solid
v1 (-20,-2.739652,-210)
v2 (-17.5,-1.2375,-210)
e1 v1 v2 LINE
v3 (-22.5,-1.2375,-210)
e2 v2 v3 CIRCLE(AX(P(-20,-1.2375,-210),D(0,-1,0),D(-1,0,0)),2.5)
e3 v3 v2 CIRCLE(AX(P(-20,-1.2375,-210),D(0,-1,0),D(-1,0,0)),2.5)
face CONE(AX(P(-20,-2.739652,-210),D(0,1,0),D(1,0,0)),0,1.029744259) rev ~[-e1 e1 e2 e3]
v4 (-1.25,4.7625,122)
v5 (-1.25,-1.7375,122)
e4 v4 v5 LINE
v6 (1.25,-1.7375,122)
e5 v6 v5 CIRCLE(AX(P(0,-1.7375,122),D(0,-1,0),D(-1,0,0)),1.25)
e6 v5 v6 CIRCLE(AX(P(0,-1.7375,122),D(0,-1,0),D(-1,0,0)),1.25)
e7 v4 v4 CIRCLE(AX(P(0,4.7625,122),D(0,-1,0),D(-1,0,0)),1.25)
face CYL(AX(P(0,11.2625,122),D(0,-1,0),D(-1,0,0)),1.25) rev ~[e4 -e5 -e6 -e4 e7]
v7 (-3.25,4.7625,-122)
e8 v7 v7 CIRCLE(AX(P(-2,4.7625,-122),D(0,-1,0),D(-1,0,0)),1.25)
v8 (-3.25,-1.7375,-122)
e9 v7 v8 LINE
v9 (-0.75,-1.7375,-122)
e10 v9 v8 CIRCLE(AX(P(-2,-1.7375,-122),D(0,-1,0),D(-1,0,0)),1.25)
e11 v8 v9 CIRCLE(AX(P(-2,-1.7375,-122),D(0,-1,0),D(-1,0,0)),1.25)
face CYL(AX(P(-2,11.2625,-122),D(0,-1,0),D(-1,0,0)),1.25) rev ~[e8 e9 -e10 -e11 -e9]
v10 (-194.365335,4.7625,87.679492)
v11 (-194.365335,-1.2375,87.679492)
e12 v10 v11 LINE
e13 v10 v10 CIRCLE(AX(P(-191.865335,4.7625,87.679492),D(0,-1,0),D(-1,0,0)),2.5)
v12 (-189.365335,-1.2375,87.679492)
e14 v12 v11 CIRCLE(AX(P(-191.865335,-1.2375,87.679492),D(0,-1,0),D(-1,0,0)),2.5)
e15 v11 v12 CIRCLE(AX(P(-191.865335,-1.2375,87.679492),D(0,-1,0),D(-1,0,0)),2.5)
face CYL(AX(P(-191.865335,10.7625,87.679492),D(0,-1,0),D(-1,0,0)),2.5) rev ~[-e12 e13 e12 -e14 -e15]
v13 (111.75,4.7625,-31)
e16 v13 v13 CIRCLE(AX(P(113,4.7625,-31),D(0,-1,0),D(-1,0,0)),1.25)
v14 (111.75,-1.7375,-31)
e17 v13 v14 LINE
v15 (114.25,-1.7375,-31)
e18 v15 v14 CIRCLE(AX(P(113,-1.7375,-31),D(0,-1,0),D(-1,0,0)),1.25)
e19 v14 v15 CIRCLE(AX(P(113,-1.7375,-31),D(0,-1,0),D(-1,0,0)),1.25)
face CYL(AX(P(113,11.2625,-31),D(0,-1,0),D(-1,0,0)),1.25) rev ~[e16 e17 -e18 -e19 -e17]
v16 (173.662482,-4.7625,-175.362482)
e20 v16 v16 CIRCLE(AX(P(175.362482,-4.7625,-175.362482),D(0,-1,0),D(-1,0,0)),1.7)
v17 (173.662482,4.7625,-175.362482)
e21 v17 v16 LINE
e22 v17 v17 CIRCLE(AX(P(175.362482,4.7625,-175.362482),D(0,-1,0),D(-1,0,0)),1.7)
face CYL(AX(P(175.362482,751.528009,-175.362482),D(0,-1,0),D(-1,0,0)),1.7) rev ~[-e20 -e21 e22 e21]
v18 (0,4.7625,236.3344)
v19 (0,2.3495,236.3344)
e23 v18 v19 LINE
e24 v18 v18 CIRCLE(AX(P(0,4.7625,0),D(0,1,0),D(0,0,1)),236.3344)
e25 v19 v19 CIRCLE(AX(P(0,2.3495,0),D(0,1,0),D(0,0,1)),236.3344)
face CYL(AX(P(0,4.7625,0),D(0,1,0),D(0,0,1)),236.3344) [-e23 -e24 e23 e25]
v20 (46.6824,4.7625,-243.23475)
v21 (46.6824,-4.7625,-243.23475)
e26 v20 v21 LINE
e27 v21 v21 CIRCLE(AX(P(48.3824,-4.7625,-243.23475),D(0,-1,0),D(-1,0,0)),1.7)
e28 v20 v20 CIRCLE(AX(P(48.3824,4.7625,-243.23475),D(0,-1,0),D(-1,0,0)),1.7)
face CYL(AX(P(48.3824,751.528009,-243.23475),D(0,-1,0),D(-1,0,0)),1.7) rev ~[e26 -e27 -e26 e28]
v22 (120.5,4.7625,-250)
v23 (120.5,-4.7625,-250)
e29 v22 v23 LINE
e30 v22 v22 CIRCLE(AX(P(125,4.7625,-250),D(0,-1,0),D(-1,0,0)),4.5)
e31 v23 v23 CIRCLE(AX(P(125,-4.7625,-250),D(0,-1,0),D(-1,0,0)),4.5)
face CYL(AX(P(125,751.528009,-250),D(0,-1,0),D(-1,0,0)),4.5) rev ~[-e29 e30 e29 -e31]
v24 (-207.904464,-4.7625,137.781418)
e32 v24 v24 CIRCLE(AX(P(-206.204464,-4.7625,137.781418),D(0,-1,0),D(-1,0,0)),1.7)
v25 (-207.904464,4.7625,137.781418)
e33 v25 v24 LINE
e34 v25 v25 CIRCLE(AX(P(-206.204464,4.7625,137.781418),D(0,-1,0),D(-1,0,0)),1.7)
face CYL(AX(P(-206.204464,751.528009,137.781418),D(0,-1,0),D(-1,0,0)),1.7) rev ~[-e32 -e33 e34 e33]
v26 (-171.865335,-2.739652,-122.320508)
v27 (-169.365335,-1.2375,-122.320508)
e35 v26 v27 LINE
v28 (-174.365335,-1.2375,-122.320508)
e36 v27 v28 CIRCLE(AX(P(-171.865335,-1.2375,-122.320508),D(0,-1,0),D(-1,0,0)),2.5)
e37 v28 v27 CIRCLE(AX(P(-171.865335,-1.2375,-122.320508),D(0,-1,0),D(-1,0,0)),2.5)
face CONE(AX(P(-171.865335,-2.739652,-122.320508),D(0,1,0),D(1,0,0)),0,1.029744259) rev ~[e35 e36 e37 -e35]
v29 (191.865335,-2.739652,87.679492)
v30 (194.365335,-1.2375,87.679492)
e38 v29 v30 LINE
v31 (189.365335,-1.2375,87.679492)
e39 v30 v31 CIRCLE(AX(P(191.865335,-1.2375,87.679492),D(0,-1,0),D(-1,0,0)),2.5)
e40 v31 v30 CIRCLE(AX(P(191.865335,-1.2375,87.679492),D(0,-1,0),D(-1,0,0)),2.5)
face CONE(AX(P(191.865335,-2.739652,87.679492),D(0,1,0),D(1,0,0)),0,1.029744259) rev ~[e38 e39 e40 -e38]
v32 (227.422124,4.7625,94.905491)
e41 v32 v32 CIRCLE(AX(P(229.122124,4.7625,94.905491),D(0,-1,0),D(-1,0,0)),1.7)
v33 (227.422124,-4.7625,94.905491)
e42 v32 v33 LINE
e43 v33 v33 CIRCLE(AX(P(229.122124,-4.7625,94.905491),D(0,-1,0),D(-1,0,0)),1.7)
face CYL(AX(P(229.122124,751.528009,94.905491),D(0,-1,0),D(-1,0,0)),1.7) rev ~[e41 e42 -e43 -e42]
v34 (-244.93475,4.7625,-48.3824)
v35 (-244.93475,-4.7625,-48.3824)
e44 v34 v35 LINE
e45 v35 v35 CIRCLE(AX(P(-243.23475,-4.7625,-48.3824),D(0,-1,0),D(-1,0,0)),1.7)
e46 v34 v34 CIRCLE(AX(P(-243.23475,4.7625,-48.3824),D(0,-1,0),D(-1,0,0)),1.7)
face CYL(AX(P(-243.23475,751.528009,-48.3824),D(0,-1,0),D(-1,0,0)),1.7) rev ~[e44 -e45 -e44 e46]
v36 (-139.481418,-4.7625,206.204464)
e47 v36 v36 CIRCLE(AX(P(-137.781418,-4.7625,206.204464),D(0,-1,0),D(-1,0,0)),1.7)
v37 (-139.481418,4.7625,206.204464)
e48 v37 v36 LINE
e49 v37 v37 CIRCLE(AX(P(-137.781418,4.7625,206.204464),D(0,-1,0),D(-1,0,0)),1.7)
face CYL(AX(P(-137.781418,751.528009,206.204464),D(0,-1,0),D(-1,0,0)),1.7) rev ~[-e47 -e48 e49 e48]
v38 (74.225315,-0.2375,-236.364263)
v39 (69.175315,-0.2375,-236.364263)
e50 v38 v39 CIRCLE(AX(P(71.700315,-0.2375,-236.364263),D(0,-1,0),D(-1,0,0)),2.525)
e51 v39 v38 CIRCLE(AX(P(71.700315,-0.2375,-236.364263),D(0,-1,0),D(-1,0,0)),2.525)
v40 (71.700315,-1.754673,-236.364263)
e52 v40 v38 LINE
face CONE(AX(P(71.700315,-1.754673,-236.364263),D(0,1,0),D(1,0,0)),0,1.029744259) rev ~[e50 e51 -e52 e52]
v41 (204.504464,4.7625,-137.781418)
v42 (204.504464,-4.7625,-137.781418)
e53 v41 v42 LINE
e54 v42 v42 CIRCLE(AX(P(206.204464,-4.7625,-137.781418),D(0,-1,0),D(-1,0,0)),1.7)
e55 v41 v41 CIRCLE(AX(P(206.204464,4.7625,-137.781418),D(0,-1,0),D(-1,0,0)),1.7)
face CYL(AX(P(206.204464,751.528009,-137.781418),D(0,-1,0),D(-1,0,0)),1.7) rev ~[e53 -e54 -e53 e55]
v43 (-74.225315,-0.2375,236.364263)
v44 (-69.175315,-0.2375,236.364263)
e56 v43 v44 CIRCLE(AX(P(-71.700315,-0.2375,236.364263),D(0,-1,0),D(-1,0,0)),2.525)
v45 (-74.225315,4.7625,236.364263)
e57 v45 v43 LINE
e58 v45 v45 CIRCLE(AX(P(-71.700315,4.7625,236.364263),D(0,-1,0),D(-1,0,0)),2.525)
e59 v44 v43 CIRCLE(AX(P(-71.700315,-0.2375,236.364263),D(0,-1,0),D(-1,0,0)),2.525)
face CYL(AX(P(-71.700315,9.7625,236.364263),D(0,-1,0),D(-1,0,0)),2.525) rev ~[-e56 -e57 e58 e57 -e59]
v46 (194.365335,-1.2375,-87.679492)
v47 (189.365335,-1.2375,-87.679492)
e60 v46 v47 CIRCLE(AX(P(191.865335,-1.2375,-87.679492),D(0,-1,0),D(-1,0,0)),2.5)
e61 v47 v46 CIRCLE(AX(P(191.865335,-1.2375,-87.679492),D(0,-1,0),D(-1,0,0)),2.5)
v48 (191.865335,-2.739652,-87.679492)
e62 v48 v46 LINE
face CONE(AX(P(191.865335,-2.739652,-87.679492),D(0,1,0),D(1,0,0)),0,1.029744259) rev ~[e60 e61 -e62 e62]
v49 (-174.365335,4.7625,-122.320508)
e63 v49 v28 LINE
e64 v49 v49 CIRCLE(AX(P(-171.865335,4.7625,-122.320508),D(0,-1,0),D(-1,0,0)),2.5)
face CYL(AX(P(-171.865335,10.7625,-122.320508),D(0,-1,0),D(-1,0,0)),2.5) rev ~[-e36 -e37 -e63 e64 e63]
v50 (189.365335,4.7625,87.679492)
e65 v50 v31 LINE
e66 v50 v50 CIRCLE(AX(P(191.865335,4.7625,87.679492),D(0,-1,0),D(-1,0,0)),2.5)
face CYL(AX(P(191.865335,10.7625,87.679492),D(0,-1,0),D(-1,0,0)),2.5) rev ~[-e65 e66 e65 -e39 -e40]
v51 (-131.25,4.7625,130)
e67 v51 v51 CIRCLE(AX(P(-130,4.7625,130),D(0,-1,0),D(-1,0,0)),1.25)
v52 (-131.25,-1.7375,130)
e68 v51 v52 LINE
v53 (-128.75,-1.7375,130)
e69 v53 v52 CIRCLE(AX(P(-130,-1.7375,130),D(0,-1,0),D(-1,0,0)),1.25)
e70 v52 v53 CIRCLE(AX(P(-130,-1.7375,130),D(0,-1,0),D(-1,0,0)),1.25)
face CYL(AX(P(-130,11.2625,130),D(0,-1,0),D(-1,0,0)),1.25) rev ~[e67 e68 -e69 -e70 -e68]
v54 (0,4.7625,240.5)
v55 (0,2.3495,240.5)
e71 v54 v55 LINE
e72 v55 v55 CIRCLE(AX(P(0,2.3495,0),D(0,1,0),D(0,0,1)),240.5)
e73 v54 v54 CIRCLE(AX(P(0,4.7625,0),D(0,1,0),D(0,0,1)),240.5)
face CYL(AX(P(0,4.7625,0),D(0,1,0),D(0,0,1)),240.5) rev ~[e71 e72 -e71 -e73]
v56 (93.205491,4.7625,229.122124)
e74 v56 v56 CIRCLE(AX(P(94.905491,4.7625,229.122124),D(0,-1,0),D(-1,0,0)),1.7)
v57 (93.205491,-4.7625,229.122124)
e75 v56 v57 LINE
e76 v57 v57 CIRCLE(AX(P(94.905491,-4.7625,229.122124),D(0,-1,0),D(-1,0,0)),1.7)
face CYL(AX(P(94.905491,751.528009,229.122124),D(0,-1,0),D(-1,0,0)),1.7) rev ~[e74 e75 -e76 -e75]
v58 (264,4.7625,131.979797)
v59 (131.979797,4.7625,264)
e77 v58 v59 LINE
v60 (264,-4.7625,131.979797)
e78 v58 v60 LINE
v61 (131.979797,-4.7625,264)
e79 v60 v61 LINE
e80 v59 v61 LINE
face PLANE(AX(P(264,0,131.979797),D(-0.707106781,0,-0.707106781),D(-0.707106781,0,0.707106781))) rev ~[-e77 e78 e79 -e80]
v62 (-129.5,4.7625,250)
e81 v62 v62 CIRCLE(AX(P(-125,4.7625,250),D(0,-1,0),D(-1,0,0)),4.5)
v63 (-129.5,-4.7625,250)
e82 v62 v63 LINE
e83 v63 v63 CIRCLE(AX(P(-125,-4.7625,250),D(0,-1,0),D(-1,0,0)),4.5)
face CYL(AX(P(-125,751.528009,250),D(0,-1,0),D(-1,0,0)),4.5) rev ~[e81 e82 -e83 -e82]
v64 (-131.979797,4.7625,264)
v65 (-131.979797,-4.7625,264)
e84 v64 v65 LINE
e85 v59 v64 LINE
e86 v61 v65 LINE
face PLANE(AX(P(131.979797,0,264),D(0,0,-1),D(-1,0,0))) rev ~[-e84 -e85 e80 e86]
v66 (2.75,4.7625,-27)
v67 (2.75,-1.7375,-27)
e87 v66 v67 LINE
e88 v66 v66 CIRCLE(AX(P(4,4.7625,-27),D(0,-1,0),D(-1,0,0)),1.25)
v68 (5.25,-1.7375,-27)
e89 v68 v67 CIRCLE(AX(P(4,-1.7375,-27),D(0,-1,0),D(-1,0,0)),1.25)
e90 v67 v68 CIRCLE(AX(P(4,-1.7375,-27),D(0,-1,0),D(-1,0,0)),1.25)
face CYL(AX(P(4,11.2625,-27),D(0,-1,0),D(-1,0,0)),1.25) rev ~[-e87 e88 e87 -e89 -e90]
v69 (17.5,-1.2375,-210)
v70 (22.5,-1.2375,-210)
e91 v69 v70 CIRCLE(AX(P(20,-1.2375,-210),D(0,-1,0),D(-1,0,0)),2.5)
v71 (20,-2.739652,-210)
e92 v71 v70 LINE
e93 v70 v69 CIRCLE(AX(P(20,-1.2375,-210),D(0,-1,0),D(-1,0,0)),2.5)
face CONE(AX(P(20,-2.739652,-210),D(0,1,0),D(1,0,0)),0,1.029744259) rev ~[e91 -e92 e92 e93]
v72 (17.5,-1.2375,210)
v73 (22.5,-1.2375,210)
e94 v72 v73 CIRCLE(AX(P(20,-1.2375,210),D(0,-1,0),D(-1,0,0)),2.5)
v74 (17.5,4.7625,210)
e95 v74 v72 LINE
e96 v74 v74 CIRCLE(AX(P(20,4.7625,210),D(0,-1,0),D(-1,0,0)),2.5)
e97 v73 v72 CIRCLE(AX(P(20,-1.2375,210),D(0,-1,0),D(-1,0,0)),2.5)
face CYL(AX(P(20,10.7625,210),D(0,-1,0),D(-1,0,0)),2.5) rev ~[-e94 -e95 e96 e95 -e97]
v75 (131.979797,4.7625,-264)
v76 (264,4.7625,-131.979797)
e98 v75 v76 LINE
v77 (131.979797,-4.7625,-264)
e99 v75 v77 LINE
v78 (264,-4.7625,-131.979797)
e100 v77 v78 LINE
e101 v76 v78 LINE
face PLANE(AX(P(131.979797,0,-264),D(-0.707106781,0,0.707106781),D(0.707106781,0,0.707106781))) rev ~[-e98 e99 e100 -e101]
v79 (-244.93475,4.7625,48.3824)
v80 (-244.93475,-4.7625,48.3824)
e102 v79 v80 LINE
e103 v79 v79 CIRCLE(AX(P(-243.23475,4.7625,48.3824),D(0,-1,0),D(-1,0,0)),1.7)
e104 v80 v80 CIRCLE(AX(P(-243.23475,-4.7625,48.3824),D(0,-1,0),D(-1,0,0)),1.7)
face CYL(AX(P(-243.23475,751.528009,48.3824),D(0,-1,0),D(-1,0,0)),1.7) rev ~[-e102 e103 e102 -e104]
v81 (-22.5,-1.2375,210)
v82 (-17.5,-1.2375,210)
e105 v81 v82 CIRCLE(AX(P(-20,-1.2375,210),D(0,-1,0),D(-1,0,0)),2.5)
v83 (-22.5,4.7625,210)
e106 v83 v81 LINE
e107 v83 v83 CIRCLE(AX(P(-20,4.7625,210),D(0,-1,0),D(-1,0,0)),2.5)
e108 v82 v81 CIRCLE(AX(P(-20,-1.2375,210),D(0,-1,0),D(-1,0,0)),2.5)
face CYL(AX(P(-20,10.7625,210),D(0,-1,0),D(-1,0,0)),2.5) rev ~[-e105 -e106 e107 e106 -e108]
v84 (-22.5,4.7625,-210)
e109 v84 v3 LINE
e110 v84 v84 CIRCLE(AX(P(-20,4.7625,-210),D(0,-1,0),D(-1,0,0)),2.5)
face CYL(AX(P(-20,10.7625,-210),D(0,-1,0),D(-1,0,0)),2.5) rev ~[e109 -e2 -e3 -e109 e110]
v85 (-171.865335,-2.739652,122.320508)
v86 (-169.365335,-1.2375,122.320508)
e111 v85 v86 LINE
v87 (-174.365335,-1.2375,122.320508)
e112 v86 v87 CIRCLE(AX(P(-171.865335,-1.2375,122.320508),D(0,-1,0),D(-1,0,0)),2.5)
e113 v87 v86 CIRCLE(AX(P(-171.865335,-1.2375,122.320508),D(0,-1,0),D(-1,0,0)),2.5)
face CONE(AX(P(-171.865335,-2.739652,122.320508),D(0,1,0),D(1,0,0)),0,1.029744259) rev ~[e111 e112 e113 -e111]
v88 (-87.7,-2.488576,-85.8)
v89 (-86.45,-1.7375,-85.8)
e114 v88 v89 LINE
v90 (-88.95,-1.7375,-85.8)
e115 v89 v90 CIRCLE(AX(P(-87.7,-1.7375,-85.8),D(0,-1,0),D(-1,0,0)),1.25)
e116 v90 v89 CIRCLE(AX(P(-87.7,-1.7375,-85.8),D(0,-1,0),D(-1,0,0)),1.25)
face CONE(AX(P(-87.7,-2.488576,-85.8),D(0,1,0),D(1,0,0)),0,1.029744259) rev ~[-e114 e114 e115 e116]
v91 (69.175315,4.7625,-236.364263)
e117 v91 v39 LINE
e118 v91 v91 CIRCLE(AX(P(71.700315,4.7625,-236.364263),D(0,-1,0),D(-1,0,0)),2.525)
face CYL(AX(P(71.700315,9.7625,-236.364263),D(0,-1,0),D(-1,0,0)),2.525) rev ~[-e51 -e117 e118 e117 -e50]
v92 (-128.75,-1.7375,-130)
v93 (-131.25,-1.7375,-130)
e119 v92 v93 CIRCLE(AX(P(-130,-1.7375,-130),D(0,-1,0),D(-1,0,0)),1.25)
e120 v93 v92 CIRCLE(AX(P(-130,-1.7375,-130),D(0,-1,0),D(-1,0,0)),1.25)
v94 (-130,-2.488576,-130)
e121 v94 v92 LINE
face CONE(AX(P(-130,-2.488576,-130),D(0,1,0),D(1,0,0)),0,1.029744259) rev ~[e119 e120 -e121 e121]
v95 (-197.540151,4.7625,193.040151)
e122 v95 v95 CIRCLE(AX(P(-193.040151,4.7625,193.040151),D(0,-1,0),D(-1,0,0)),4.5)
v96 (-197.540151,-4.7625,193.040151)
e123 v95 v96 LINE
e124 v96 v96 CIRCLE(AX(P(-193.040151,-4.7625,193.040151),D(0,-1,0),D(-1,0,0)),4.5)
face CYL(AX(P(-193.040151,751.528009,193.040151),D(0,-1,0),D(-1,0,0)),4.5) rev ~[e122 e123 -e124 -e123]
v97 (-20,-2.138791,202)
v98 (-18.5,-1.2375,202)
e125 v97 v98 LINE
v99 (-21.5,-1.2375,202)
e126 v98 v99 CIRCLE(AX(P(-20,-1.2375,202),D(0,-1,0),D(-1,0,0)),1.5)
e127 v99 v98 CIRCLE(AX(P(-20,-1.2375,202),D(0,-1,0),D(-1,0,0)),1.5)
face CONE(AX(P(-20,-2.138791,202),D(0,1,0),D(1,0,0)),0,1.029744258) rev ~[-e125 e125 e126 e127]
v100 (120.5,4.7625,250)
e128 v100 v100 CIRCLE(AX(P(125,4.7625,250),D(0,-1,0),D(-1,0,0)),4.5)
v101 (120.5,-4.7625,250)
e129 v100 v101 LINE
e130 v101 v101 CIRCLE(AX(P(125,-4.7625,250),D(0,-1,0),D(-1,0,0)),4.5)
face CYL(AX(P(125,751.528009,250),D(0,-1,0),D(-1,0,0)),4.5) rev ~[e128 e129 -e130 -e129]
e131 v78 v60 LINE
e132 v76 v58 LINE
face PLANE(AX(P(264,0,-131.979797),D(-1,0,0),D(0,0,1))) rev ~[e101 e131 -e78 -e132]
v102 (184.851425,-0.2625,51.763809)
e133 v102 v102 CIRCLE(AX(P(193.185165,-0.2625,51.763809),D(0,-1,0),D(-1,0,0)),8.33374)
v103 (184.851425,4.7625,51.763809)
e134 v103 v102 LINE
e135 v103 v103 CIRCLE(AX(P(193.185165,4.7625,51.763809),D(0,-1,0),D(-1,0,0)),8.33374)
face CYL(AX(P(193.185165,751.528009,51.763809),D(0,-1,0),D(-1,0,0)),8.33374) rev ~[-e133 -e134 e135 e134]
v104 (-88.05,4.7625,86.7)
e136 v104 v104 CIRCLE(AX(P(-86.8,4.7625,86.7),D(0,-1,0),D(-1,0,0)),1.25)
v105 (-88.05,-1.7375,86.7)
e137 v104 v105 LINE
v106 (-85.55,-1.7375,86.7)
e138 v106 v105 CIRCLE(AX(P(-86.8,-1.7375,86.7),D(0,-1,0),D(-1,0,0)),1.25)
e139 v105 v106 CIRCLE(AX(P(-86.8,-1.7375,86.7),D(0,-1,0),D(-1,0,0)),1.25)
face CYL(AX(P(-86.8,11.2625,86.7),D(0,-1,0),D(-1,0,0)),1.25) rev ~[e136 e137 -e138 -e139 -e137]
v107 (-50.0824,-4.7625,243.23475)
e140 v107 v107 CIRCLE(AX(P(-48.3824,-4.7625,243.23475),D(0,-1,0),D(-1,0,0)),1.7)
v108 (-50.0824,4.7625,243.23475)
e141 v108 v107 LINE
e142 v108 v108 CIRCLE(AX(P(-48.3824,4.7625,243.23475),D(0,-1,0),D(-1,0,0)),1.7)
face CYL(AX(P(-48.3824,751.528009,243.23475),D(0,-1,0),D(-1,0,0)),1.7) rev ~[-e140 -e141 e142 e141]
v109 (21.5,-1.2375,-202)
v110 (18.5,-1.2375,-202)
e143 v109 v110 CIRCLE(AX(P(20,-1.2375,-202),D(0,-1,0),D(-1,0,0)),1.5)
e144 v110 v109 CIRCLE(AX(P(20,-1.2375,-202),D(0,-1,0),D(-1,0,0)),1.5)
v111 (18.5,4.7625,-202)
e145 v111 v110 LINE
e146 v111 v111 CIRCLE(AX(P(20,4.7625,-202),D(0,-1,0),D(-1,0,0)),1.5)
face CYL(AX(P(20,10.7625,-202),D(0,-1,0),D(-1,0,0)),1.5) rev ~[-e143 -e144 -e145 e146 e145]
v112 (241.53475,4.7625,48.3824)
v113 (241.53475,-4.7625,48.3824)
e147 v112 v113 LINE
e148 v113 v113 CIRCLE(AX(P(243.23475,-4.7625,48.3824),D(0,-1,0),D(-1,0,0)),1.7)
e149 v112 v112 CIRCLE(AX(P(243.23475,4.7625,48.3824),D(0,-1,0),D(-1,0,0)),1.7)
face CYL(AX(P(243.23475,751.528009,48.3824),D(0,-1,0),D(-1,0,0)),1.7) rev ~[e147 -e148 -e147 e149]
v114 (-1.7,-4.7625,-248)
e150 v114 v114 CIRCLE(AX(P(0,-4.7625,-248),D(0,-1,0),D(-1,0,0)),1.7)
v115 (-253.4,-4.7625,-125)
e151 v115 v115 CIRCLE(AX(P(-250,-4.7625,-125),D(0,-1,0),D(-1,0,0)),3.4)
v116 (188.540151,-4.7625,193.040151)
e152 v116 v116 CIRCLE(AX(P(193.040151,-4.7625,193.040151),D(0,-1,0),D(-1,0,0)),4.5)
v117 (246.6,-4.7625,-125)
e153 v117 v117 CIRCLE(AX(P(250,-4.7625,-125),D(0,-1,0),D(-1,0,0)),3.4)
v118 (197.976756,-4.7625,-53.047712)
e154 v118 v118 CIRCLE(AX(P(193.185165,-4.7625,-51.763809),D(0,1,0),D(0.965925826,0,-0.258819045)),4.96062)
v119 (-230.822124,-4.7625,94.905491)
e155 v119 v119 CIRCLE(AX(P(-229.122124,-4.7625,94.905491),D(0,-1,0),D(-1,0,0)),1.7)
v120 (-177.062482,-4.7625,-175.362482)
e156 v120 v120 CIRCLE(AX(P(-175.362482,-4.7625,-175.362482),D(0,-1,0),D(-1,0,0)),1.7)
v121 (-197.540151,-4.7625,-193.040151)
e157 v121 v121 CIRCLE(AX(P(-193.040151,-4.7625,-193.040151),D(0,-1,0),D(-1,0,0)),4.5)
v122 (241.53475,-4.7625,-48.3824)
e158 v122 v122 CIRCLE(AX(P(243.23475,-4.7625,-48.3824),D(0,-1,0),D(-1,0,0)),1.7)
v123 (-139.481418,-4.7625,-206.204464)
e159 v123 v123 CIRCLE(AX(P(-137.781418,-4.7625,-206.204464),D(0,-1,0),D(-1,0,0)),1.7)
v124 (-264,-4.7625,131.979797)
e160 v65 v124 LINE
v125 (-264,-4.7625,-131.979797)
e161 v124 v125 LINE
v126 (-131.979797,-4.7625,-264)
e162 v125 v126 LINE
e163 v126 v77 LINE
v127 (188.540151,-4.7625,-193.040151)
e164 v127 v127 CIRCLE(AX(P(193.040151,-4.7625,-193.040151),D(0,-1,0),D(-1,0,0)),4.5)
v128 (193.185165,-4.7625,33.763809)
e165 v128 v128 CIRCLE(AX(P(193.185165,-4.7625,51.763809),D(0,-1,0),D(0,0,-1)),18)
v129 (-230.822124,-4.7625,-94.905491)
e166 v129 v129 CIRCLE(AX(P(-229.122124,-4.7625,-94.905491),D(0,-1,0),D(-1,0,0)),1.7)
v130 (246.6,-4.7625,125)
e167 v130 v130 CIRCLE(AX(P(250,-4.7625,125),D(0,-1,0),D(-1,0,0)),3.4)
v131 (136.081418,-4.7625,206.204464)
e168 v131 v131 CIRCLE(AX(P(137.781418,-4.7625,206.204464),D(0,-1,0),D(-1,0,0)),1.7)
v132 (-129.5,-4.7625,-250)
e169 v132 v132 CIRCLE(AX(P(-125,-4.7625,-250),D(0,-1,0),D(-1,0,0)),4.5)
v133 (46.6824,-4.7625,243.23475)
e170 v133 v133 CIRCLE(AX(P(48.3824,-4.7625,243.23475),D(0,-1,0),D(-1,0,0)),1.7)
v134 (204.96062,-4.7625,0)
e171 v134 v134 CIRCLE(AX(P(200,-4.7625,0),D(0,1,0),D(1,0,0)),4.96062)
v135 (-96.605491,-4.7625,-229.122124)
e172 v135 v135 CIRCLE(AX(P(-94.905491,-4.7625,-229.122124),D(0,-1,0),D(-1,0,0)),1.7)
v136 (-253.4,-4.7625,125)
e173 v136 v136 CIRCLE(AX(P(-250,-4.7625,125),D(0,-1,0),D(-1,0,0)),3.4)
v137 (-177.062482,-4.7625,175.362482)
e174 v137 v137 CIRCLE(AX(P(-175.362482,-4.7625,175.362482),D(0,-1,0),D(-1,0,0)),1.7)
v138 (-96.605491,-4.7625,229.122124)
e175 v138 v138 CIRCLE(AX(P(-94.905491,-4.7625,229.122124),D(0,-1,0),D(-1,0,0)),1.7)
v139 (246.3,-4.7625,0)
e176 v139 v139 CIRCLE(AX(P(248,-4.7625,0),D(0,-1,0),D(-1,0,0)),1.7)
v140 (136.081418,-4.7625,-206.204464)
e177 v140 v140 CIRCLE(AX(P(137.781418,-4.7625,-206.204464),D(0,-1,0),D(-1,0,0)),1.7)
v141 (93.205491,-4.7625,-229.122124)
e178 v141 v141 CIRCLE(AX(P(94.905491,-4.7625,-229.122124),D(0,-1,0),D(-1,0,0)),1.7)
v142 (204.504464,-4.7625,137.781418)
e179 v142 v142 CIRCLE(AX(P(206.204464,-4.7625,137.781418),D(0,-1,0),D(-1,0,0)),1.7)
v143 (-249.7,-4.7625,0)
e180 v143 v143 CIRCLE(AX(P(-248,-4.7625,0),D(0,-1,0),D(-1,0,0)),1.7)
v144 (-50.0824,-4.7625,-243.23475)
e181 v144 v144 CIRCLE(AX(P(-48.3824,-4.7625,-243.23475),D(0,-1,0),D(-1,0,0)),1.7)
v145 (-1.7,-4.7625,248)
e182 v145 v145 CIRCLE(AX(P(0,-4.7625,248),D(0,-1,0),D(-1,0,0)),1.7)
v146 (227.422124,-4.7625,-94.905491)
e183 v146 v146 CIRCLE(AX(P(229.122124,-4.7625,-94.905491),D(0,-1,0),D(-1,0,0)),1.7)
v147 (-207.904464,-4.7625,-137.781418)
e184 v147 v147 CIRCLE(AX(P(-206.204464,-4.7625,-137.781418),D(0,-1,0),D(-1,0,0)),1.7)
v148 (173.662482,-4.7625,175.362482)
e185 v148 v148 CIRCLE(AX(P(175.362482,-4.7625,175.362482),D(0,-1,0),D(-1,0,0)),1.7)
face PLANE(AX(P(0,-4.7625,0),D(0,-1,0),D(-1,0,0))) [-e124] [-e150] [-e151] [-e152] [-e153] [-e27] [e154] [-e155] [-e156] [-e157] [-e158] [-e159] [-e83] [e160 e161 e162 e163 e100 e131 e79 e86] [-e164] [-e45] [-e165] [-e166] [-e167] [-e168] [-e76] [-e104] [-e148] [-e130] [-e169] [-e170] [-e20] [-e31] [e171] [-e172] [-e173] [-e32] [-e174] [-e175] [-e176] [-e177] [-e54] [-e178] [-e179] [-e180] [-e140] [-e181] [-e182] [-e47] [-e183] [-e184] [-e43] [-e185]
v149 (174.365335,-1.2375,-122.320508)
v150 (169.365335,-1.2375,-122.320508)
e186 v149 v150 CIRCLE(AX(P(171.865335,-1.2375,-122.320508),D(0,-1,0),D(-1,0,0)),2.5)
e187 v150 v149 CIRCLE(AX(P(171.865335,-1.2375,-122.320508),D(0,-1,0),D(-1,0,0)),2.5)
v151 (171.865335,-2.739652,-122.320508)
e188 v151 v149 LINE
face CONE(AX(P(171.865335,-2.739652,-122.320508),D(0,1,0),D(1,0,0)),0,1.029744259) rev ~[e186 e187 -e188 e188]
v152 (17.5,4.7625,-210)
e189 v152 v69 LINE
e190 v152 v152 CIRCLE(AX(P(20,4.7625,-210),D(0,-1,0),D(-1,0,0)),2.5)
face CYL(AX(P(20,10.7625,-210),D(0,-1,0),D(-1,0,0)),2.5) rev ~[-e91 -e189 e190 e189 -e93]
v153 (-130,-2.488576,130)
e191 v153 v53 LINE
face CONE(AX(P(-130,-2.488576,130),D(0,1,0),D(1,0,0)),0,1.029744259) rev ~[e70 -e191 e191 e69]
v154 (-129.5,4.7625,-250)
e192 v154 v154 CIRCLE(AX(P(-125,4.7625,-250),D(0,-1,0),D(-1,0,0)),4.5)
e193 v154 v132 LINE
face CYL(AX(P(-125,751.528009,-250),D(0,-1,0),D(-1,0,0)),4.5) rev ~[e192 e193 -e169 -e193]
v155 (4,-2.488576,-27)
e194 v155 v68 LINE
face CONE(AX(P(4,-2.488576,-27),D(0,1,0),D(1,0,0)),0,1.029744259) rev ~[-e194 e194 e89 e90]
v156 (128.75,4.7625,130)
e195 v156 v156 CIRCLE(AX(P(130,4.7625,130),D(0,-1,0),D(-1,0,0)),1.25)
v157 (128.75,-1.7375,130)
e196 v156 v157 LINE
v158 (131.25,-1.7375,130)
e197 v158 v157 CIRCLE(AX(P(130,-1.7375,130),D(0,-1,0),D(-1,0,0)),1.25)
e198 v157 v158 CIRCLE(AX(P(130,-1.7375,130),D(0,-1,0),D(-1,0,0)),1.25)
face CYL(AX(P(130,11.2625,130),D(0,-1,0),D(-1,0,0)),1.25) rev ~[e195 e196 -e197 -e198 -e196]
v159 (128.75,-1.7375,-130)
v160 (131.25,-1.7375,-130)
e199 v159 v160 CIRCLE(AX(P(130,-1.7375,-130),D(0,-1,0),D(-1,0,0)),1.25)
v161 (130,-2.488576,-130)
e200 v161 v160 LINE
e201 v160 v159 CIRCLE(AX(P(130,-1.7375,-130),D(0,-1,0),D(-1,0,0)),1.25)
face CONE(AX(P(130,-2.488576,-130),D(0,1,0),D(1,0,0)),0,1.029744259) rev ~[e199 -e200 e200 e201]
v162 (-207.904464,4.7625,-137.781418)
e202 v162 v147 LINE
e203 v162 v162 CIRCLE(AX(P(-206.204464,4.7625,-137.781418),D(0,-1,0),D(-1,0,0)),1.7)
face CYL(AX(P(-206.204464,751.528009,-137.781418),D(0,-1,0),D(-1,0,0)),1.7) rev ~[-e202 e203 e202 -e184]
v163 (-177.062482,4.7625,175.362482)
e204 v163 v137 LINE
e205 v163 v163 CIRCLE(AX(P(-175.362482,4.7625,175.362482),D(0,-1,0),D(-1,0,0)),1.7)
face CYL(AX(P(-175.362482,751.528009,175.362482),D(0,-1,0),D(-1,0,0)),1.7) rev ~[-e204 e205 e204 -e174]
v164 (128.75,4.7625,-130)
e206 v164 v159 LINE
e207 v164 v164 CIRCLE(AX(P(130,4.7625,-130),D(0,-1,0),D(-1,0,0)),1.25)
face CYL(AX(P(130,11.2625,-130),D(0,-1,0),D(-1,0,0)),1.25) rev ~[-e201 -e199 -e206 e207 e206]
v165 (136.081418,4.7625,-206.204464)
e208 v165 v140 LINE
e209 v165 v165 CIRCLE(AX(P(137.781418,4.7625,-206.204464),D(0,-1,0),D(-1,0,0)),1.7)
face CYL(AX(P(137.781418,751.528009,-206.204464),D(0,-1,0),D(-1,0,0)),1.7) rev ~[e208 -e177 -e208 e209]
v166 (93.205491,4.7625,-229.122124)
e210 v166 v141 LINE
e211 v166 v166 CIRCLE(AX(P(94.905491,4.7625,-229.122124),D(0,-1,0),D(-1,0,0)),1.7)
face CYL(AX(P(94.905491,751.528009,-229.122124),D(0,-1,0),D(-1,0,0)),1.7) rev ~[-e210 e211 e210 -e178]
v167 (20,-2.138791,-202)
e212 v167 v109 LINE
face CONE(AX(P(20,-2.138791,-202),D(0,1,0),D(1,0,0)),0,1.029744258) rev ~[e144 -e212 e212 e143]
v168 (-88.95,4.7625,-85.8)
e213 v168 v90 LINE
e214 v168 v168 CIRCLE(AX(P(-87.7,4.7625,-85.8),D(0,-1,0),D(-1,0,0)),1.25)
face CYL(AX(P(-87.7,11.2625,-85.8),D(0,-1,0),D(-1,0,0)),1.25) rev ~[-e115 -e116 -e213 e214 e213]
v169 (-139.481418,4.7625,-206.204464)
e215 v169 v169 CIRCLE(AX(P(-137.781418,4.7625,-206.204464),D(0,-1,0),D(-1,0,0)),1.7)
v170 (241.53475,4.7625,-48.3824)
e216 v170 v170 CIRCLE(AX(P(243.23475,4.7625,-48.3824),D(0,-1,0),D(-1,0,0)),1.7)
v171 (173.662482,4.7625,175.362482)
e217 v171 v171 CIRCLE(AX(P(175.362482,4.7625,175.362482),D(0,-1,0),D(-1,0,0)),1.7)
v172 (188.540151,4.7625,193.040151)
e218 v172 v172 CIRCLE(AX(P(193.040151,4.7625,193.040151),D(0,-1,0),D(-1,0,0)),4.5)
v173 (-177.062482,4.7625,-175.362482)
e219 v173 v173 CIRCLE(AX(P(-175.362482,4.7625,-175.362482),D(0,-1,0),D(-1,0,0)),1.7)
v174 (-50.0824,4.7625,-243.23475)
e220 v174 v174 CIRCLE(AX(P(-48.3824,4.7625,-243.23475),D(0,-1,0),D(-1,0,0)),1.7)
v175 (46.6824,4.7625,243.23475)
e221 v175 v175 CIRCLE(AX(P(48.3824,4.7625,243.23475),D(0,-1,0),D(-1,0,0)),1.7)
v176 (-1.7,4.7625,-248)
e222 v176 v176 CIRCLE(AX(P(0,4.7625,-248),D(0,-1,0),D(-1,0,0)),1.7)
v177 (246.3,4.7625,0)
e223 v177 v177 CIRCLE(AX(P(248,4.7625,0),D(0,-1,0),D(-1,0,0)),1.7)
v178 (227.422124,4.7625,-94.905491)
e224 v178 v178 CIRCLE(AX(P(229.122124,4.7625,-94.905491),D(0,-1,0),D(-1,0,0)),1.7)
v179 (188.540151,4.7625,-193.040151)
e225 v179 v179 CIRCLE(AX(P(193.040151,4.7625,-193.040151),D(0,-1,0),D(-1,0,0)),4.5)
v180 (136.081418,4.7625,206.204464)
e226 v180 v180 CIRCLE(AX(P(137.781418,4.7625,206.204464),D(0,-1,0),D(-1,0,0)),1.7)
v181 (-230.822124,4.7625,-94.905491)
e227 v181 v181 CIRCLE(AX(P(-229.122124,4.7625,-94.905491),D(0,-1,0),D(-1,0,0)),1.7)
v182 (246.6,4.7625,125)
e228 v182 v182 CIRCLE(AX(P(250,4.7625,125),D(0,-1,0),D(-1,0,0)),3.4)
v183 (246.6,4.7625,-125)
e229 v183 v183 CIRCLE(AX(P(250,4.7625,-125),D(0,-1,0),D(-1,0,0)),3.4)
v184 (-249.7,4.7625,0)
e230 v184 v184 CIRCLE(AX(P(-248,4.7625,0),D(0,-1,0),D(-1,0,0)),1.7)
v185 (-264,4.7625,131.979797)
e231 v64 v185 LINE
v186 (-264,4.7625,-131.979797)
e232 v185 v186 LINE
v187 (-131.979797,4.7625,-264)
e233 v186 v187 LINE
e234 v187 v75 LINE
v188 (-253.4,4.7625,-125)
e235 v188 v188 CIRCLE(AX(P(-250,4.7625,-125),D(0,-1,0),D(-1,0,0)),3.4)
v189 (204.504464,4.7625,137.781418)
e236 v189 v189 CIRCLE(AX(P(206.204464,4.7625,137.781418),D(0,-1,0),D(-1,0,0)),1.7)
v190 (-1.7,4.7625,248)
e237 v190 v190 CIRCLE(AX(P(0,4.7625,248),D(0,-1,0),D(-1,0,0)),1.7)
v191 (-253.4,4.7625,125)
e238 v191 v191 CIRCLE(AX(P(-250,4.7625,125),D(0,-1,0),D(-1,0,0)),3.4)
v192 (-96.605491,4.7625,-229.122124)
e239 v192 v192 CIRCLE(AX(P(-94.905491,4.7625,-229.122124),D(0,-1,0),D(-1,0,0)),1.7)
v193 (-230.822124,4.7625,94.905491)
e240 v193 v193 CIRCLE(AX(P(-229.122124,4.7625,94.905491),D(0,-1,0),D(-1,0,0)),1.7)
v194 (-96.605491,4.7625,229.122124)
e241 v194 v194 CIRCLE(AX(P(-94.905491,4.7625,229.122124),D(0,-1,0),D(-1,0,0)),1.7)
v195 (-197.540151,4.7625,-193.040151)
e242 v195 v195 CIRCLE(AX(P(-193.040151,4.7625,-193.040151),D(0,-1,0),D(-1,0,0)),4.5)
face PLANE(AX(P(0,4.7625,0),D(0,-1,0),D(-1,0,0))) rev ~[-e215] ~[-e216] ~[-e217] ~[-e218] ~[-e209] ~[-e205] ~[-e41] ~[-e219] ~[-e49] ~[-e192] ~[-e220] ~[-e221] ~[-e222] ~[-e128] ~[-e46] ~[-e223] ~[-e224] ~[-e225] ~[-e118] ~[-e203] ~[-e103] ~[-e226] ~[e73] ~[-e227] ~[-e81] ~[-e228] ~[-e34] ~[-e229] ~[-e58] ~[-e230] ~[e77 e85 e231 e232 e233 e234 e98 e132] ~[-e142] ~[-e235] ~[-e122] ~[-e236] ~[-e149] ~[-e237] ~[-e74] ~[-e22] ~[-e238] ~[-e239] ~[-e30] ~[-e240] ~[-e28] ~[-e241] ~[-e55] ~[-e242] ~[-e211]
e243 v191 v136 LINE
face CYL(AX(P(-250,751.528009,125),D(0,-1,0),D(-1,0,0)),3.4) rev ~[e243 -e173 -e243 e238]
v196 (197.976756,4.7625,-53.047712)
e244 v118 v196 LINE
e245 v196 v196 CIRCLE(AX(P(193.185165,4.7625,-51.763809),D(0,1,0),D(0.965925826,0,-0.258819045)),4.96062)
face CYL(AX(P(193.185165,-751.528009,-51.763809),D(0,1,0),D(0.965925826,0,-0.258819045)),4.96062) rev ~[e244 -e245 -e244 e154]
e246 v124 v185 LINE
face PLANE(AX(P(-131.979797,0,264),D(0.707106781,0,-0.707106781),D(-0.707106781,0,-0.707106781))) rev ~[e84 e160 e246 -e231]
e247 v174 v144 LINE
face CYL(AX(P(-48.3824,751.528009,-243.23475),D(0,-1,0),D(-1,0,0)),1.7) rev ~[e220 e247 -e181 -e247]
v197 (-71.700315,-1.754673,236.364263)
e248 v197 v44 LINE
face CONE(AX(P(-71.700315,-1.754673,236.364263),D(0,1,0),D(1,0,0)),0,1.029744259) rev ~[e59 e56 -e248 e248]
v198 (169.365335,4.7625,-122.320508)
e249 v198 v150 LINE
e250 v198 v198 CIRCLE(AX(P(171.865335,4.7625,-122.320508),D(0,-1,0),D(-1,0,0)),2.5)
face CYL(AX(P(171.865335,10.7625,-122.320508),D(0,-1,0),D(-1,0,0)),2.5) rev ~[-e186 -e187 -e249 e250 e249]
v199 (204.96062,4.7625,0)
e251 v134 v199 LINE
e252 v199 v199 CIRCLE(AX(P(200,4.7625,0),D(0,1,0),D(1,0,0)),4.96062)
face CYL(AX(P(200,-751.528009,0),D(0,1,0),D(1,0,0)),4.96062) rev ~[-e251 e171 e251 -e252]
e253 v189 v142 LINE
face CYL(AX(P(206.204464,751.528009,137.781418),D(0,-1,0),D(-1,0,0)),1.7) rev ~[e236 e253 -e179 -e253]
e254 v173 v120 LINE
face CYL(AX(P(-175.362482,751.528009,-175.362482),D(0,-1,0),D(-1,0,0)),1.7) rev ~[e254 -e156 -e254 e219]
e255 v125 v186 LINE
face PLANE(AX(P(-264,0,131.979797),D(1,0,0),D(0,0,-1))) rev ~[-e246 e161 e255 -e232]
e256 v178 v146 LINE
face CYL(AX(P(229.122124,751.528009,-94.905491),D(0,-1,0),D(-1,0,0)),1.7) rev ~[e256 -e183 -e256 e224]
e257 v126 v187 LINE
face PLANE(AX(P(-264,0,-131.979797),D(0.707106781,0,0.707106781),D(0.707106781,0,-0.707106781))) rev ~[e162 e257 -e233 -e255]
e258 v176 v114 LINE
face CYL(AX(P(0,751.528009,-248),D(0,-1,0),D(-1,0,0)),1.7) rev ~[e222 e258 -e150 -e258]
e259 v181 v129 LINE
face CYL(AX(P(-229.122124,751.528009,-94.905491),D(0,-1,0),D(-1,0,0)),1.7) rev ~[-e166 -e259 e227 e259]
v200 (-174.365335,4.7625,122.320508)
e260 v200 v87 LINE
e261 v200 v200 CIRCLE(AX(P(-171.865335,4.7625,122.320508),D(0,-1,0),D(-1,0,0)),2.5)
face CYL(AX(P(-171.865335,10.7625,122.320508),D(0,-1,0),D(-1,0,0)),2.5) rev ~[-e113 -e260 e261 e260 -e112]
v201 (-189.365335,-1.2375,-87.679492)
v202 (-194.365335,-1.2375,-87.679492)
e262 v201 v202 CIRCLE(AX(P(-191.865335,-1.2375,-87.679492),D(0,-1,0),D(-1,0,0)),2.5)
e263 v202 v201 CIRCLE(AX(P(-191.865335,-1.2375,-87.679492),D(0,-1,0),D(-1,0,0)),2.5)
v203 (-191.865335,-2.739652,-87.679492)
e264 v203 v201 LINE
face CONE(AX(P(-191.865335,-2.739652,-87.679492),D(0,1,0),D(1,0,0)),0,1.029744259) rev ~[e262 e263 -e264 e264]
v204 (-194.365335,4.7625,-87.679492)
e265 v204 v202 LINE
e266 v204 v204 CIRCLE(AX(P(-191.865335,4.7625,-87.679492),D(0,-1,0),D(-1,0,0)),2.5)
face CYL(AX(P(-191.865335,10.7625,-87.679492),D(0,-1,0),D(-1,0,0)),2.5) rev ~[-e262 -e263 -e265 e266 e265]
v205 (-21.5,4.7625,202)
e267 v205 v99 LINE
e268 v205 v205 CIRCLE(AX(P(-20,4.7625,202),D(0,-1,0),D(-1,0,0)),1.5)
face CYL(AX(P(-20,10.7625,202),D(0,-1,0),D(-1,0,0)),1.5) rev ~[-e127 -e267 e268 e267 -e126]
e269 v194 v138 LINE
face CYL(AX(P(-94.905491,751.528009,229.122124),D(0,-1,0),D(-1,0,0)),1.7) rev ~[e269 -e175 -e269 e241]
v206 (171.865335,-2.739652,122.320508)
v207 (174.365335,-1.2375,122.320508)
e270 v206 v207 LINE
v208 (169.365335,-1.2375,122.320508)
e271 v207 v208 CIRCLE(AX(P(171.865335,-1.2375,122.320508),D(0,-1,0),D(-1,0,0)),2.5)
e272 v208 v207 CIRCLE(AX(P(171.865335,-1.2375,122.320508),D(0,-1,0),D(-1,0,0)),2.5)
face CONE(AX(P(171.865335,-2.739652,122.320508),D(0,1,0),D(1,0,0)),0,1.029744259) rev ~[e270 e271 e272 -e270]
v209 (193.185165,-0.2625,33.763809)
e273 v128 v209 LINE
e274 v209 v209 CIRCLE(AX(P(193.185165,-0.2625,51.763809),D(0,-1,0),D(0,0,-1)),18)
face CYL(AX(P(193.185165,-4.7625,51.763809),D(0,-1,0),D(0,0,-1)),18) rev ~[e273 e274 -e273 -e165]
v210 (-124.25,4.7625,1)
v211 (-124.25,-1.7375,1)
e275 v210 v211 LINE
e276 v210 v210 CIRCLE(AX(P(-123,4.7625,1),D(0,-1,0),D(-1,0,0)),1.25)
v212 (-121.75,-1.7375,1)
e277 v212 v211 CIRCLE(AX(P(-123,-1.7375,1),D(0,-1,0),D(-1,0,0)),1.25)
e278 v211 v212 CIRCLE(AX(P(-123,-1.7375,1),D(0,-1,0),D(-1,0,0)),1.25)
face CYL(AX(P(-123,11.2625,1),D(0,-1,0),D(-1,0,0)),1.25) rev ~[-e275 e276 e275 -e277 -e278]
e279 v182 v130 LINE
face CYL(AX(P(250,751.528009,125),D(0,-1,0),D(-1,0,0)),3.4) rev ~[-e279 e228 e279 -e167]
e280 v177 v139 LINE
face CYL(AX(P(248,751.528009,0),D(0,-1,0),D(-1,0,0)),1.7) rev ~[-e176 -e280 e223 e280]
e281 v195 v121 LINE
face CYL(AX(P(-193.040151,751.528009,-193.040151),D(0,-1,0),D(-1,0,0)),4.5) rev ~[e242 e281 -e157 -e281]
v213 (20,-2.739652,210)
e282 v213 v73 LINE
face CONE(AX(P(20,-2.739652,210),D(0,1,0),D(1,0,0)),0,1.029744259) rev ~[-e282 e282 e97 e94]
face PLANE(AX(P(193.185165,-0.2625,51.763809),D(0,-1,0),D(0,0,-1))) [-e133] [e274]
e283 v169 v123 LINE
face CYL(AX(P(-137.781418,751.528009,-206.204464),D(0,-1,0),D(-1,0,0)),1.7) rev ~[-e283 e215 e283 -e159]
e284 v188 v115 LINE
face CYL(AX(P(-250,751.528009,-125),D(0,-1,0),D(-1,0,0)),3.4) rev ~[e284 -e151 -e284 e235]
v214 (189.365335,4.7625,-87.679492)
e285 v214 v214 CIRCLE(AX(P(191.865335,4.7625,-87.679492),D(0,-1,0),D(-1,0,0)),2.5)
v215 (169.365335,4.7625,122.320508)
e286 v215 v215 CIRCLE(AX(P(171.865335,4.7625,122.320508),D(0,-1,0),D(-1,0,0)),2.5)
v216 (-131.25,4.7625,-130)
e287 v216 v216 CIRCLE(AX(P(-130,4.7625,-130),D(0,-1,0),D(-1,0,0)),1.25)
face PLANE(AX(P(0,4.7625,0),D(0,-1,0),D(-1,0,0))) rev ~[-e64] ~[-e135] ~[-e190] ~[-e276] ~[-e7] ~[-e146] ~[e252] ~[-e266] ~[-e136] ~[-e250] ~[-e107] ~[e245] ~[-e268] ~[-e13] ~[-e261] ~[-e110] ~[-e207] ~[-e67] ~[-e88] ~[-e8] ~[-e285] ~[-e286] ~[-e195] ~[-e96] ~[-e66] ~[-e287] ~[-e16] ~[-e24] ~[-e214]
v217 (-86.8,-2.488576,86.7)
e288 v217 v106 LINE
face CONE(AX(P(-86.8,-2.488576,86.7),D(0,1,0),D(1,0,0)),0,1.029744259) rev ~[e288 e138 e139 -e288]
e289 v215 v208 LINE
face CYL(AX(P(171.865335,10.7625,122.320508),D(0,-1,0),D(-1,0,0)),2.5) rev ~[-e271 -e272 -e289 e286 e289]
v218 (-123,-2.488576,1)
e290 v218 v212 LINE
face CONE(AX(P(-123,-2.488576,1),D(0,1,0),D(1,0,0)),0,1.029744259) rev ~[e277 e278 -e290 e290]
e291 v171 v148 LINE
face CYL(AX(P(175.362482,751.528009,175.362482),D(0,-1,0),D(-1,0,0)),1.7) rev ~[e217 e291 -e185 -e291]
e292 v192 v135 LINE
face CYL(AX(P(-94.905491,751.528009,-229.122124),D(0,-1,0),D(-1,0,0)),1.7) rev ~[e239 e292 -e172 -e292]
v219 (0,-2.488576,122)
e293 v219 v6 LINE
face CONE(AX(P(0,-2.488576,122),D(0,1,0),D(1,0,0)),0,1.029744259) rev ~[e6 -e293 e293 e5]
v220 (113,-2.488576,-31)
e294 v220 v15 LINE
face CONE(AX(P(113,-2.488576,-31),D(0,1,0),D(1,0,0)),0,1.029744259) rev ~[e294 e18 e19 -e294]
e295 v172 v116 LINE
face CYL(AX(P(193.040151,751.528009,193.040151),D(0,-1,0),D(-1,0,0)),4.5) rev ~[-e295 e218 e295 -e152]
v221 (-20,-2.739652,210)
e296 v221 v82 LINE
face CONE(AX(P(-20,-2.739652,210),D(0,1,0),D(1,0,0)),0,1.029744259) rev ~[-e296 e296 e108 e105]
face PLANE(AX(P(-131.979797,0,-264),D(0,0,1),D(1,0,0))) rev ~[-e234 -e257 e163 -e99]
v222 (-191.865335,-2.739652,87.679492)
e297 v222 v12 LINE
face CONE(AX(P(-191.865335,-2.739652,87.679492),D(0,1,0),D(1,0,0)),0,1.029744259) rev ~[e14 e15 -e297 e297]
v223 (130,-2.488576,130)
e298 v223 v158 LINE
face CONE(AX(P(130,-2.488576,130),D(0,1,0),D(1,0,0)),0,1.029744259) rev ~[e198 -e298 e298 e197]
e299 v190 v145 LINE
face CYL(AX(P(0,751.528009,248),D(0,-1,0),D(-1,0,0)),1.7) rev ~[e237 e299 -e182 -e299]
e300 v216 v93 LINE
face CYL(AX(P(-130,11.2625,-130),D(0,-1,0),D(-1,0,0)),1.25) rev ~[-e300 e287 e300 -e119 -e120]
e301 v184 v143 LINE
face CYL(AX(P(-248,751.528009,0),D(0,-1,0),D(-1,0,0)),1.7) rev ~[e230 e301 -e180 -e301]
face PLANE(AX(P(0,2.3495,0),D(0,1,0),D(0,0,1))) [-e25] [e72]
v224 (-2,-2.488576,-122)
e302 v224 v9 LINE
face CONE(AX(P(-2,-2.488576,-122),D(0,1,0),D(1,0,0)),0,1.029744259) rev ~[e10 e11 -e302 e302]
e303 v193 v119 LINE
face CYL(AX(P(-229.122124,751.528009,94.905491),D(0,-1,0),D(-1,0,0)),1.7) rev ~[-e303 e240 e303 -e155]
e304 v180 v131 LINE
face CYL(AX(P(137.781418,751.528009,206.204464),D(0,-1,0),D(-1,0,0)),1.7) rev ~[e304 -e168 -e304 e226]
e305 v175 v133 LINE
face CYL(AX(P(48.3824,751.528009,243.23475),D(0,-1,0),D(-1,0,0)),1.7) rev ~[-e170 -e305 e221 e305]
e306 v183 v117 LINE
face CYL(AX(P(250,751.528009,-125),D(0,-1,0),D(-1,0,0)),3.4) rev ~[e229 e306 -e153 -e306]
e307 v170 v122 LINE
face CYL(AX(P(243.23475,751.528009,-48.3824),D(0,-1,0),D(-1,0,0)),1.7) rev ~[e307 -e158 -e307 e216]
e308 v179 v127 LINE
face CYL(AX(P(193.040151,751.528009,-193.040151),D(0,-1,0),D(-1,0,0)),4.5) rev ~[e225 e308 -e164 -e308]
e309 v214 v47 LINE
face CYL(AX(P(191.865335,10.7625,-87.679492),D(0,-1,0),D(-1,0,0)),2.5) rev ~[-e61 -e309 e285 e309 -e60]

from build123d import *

# Parameters (mm, degrees)
BASE_PLATE_PROFILE_DEPTH                     = 4.7625
M3_CLEARANCE_HOLE_FOR_CYLINDER_D             = 3.4
M6X1_TAPPED_HOLE_FOR_SUPPORT_PILLARS_D       = 5
M6X1_TAPPED_HOLE_FOR_SUPPORT_PILLARS_DEPTH   = 6
M6X1_TAPPED_HOLE_FOR_SUPPORT_PILLARS_TIP     = 1.502151548
F_3_0MM_DOWEL_HOLE_FOR_SUPPORT_PILLARS_D     = 3
F_3_0MM_DOWEL_HOLE_FOR_SUPPORT_PILLARS_DEPTH = 6
F_3_0MM_DOWEL_HOLE_FOR_SUPPORT_PILLARS_TIP   = 0.901290929
M3X0_5_TAPPED_HOLE_FOR_PCB_STANDOFFS_D       = 2.5
M3X0_5_TAPPED_HOLE_FOR_PCB_STANDOFFS_DEPTH   = 6.5
M3X0_5_TAPPED_HOLE_FOR_PCB_STANDOFFS_TIP     = 0.751075774
M8_CLEARANCE_HOLE_FOR_LIFTING_ALIGNM_D       = 9
M8X1_25_TAPPED_HOLE_FOR_SUPER_STRUCTURE_D    = 6.8
F_7_16_20_TAPPED_HOLE_FOR_PENETRATOR_D       = 9.92124
SKETCH28_R                                   = 240.5
SKETCH28_R_2                                 = 236.3344
O_RING_GROOVE_DEPTH                          = 2.413
CIRPATTERN_EXTRACABLES_COUNT                 = 2
CIRPATTERN_EXTRACABLES_ANGLE                 = 15
F_5_8_CLEARANCE_HOLE1_D                      = 16.66748
SKETCH35_R                                   = 18
CUT_EXTRUDE1_DEPTH                           = 4.5
M8_CLEARANCE_HOLE_D                          = 9
F_5_0MM_DOWEL_HOLE1_D                        = 5.05
F_5_0MM_DOWEL_HOLE1_DEPTH                    = 5
F_5_0MM_DOWEL_HOLE1_TIP                      = 1.517173063


with BuildPart() as part:
    # Sketch1 → Base Plate Profile (new, symmetric)
    with BuildSketch(Plane(origin=(0, 0, 0), x_dir=(1, 0, 0), z_dir=(0, 1, 0))):
        Polygon((-131.979797464, 264), (131.979797464, 264), (264, 131.979797464), (264, -131.979797464), (131.979797464, -264), (-131.979797464, -264), (-264, -131.979797464), (-264, 131.979797464), align=None)
    extrude(amount=BASE_PLATE_PROFILE_DEPTH, both=True)

    # M3 Clearance Hole - For Cylinder (through all)
    with Locations(Plane(origin=(0, 4.7625, 0), x_dir=(1, 0, 0), z_dir=(0, 1, 0))):
        with Locations((248, 0), (243.23474954, -48.38239986), (229.122124063, -94.905491227), (206.204463851, -137.781417789), (175.362481734, -175.362481734), (137.781417789, -206.204463851), (94.905491227, -229.122124063), (48.38239986, -243.23474954), (0, -248), (-48.38239986, -243.23474954), (-94.905491227, -229.122124063), (-137.781417789, -206.204463851), (-175.362481734, -175.362481734), (-206.204463851, -137.781417789), (-229.122124063, -94.905491227), (-243.23474954, -48.38239986), (-248, 0), (-243.23474954, 48.38239986), (-229.122124063, 94.905491227), (-206.204463851, 137.781417789), (-175.362481734, 175.362481734), (-137.781417789, 206.204463851), (-94.905491227, 229.122124063), (-48.38239986, 243.23474954), (0, 248), (48.38239986, 243.23474954), (94.905491227, 229.122124063), (137.781417789, 206.204463851), (175.362481734, 175.362481734), (206.204463851, 137.781417789), (229.122124063, 94.905491227), (243.23474954, 48.38239986)):
            Hole(M3_CLEARANCE_HOLE_FOR_CYLINDER_D / 2)

    # M6x1 Tapped Hole - For Support Pillars
    with Locations(Plane(origin=(0, 4.7625, 0), x_dir=(1, 0, 0), z_dir=(0, 1, 0))):
        with Locations((-20, 210), (20, 210), (171.865334795, 122.320508076), (191.865334795, 87.679491924), (191.865334795, -87.679491924), (171.865334795, -122.320508076), (20, -210), (-20, -210), (-171.865334795, -122.320508076), (-191.865334795, -87.679491924), (-191.865334795, 87.679491924), (-171.865334795, 122.320508076)):
            Hole(M6X1_TAPPED_HOLE_FOR_SUPPORT_PILLARS_D / 2, depth=M6X1_TAPPED_HOLE_FOR_SUPPORT_PILLARS_DEPTH)
            with Locations((0, 0, -(M6X1_TAPPED_HOLE_FOR_SUPPORT_PILLARS_DEPTH + M6X1_TAPPED_HOLE_FOR_SUPPORT_PILLARS_TIP / 2))):  # 118° drill point
                Cone(0, M6X1_TAPPED_HOLE_FOR_SUPPORT_PILLARS_D / 2, M6X1_TAPPED_HOLE_FOR_SUPPORT_PILLARS_TIP, mode=Mode.SUBTRACT)

    # Ø3.0mm Dowel Hole - For Support Pillars
    with Locations(Plane(origin=(0, 4.7625, 0), x_dir=(1, 0, 0), z_dir=(0, 1, 0))):
        with Locations((20, 202), (-20, -202)):
            Hole(F_3_0MM_DOWEL_HOLE_FOR_SUPPORT_PILLARS_D / 2, depth=F_3_0MM_DOWEL_HOLE_FOR_SUPPORT_PILLARS_DEPTH)
            with Locations((0, 0, -(F_3_0MM_DOWEL_HOLE_FOR_SUPPORT_PILLARS_DEPTH + F_3_0MM_DOWEL_HOLE_FOR_SUPPORT_PILLARS_TIP / 2))):  # 118° drill point
                Cone(0, F_3_0MM_DOWEL_HOLE_FOR_SUPPORT_PILLARS_D / 2, F_3_0MM_DOWEL_HOLE_FOR_SUPPORT_PILLARS_TIP, mode=Mode.SUBTRACT)

    # M3x0.5 Tapped Hole - For PCB Standoffs
    with Locations(Plane(origin=(0, 4.7625, 0), x_dir=(1, 0, 0), z_dir=(0, 1, 0))):
        with Locations((113, 31), (-130, -130), (130, -130), (130, 130), (-130, 130), (-86.8, -86.7), (0, -122), (-123, -1), (-87.7, 85.8), (4, 27), (-2, 122)):
            Hole(M3X0_5_TAPPED_HOLE_FOR_PCB_STANDOFFS_D / 2, depth=M3X0_5_TAPPED_HOLE_FOR_PCB_STANDOFFS_DEPTH)
            with Locations((0, 0, -(M3X0_5_TAPPED_HOLE_FOR_PCB_STANDOFFS_DEPTH + M3X0_5_TAPPED_HOLE_FOR_PCB_STANDOFFS_TIP / 2))):  # 118° drill point
                Cone(0, M3X0_5_TAPPED_HOLE_FOR_PCB_STANDOFFS_D / 2, M3X0_5_TAPPED_HOLE_FOR_PCB_STANDOFFS_TIP, mode=Mode.SUBTRACT)

    # M8 Clearance Hole - For Lifting / Alignment (through all)
    with Locations(Plane(origin=(0, 4.7625, 0), x_dir=(1, 0, 0), z_dir=(0, 1, 0))):
        with Locations((-193.040151264, -193.040151264), (-193.040151264, 193.040151264), (193.040151264, 193.040151264), (193.040151264, -193.040151264)):
            Hole(M8_CLEARANCE_HOLE_FOR_LIFTING_ALIGNM_D / 2)

    # M8x1.25 Tapped Hole -For Super Structure (through all)
    with Locations(Plane(origin=(0, 4.7625, 0), x_dir=(1, 0, 0), z_dir=(0, 1, 0))):
        with Locations((250, 125), (-250, -125), (-250, 125), (250, -125)):
            Hole(M8X1_25_TAPPED_HOLE_FOR_SUPER_STRUCTURE_D / 2)

    # 7/16-20 Tapped Hole - For Penetrator (through all)
    with Locations(Plane(origin=(0, -4.7625, 0), x_dir=(-1, 0, 0), z_dir=(0, -1, 0))):
        with Locations((-200, 0)):
            f_7_16_20_tapped_hole_for_penetrator = Hole(F_7_16_20_TAPPED_HOLE_FOR_PENETRATOR_D / 2)

    # Sketch28 → O-ring Groove (cut)
    with BuildSketch(Plane(origin=(0, 4.7625, 0), x_dir=(1, 0, 0), z_dir=(0, 1, 0))):
        with Locations(Location((0, 0, 0), (0, 0, 270))):
            Circle(SKETCH28_R)
        with Locations(Location((0, 0, 0), (0, 0, 270))):
            Circle(SKETCH28_R_2, mode=Mode.SUBTRACT)
    extrude(amount=-O_RING_GROOVE_DEPTH, mode=Mode.SUBTRACT)

    # CirPattern_extraCables: 7/16-20 Tapped Hole - For Penetrator ×2 about axis
    cirpattern_extracables_axis = Axis((0, -5.23875, 0), (0, 1, 0))
    for i in range(1, CIRPATTERN_EXTRACABLES_COUNT):
        add(f_7_16_20_tapped_hole_for_penetrator.rotate(cirpattern_extracables_axis, i * CIRPATTERN_EXTRACABLES_ANGLE / (CIRPATTERN_EXTRACABLES_COUNT - 1)), mode=Mode.SUBTRACT)

    # 5/8 Clearance Hole1 (through all)
    with Locations(Plane(origin=(0, 4.7625, 0), x_dir=(1, 0, 0), z_dir=(0, 1, 0))):
        with Locations((193.185165258, -51.763809021)):
            Hole(F_5_8_CLEARANCE_HOLE1_D / 2)

    # Sketch35 → Cut-Extrude1 (cut)
    with BuildSketch(Plane.XZ.offset(4.7625)):
        with Locations(Location((193.185165258, 51.763809021, 0), (0, 0, 270))):
            Circle(SKETCH35_R)
    extrude(amount=-CUT_EXTRUDE1_DEPTH, mode=Mode.SUBTRACT)

    # M8 Clearance Hole (through all)
    with Locations(Plane(origin=(-28.123925909, 4.7625, -48.06749493), x_dir=(1, 0, 0), z_dir=(0, 1, 0))):
        with Locations((-96.876074091, -298.06749493), (-96.876074091, 201.93250507), (153.123925909, -298.06749493), (153.123925909, 201.93250507)):
            Hole(M8_CLEARANCE_HOLE_D / 2)

    # Ø5.0mm Dowel Hole1
    with Locations(Plane(origin=(0, 4.7625, 0), x_dir=(1, 0, 0), z_dir=(0, 1, 0))):
        with Locations((71.700315282, 236.364262926), (-71.700315282, -236.364262926)):
            Hole(F_5_0MM_DOWEL_HOLE1_D / 2, depth=F_5_0MM_DOWEL_HOLE1_DEPTH)
            with Locations((0, 0, -(F_5_0MM_DOWEL_HOLE1_DEPTH + F_5_0MM_DOWEL_HOLE1_TIP / 2))):  # 118° drill point
                Cone(0, F_5_0MM_DOWEL_HOLE1_D / 2, F_5_0MM_DOWEL_HOLE1_TIP, mode=Mode.SUBTRACT)


solid = part.part
